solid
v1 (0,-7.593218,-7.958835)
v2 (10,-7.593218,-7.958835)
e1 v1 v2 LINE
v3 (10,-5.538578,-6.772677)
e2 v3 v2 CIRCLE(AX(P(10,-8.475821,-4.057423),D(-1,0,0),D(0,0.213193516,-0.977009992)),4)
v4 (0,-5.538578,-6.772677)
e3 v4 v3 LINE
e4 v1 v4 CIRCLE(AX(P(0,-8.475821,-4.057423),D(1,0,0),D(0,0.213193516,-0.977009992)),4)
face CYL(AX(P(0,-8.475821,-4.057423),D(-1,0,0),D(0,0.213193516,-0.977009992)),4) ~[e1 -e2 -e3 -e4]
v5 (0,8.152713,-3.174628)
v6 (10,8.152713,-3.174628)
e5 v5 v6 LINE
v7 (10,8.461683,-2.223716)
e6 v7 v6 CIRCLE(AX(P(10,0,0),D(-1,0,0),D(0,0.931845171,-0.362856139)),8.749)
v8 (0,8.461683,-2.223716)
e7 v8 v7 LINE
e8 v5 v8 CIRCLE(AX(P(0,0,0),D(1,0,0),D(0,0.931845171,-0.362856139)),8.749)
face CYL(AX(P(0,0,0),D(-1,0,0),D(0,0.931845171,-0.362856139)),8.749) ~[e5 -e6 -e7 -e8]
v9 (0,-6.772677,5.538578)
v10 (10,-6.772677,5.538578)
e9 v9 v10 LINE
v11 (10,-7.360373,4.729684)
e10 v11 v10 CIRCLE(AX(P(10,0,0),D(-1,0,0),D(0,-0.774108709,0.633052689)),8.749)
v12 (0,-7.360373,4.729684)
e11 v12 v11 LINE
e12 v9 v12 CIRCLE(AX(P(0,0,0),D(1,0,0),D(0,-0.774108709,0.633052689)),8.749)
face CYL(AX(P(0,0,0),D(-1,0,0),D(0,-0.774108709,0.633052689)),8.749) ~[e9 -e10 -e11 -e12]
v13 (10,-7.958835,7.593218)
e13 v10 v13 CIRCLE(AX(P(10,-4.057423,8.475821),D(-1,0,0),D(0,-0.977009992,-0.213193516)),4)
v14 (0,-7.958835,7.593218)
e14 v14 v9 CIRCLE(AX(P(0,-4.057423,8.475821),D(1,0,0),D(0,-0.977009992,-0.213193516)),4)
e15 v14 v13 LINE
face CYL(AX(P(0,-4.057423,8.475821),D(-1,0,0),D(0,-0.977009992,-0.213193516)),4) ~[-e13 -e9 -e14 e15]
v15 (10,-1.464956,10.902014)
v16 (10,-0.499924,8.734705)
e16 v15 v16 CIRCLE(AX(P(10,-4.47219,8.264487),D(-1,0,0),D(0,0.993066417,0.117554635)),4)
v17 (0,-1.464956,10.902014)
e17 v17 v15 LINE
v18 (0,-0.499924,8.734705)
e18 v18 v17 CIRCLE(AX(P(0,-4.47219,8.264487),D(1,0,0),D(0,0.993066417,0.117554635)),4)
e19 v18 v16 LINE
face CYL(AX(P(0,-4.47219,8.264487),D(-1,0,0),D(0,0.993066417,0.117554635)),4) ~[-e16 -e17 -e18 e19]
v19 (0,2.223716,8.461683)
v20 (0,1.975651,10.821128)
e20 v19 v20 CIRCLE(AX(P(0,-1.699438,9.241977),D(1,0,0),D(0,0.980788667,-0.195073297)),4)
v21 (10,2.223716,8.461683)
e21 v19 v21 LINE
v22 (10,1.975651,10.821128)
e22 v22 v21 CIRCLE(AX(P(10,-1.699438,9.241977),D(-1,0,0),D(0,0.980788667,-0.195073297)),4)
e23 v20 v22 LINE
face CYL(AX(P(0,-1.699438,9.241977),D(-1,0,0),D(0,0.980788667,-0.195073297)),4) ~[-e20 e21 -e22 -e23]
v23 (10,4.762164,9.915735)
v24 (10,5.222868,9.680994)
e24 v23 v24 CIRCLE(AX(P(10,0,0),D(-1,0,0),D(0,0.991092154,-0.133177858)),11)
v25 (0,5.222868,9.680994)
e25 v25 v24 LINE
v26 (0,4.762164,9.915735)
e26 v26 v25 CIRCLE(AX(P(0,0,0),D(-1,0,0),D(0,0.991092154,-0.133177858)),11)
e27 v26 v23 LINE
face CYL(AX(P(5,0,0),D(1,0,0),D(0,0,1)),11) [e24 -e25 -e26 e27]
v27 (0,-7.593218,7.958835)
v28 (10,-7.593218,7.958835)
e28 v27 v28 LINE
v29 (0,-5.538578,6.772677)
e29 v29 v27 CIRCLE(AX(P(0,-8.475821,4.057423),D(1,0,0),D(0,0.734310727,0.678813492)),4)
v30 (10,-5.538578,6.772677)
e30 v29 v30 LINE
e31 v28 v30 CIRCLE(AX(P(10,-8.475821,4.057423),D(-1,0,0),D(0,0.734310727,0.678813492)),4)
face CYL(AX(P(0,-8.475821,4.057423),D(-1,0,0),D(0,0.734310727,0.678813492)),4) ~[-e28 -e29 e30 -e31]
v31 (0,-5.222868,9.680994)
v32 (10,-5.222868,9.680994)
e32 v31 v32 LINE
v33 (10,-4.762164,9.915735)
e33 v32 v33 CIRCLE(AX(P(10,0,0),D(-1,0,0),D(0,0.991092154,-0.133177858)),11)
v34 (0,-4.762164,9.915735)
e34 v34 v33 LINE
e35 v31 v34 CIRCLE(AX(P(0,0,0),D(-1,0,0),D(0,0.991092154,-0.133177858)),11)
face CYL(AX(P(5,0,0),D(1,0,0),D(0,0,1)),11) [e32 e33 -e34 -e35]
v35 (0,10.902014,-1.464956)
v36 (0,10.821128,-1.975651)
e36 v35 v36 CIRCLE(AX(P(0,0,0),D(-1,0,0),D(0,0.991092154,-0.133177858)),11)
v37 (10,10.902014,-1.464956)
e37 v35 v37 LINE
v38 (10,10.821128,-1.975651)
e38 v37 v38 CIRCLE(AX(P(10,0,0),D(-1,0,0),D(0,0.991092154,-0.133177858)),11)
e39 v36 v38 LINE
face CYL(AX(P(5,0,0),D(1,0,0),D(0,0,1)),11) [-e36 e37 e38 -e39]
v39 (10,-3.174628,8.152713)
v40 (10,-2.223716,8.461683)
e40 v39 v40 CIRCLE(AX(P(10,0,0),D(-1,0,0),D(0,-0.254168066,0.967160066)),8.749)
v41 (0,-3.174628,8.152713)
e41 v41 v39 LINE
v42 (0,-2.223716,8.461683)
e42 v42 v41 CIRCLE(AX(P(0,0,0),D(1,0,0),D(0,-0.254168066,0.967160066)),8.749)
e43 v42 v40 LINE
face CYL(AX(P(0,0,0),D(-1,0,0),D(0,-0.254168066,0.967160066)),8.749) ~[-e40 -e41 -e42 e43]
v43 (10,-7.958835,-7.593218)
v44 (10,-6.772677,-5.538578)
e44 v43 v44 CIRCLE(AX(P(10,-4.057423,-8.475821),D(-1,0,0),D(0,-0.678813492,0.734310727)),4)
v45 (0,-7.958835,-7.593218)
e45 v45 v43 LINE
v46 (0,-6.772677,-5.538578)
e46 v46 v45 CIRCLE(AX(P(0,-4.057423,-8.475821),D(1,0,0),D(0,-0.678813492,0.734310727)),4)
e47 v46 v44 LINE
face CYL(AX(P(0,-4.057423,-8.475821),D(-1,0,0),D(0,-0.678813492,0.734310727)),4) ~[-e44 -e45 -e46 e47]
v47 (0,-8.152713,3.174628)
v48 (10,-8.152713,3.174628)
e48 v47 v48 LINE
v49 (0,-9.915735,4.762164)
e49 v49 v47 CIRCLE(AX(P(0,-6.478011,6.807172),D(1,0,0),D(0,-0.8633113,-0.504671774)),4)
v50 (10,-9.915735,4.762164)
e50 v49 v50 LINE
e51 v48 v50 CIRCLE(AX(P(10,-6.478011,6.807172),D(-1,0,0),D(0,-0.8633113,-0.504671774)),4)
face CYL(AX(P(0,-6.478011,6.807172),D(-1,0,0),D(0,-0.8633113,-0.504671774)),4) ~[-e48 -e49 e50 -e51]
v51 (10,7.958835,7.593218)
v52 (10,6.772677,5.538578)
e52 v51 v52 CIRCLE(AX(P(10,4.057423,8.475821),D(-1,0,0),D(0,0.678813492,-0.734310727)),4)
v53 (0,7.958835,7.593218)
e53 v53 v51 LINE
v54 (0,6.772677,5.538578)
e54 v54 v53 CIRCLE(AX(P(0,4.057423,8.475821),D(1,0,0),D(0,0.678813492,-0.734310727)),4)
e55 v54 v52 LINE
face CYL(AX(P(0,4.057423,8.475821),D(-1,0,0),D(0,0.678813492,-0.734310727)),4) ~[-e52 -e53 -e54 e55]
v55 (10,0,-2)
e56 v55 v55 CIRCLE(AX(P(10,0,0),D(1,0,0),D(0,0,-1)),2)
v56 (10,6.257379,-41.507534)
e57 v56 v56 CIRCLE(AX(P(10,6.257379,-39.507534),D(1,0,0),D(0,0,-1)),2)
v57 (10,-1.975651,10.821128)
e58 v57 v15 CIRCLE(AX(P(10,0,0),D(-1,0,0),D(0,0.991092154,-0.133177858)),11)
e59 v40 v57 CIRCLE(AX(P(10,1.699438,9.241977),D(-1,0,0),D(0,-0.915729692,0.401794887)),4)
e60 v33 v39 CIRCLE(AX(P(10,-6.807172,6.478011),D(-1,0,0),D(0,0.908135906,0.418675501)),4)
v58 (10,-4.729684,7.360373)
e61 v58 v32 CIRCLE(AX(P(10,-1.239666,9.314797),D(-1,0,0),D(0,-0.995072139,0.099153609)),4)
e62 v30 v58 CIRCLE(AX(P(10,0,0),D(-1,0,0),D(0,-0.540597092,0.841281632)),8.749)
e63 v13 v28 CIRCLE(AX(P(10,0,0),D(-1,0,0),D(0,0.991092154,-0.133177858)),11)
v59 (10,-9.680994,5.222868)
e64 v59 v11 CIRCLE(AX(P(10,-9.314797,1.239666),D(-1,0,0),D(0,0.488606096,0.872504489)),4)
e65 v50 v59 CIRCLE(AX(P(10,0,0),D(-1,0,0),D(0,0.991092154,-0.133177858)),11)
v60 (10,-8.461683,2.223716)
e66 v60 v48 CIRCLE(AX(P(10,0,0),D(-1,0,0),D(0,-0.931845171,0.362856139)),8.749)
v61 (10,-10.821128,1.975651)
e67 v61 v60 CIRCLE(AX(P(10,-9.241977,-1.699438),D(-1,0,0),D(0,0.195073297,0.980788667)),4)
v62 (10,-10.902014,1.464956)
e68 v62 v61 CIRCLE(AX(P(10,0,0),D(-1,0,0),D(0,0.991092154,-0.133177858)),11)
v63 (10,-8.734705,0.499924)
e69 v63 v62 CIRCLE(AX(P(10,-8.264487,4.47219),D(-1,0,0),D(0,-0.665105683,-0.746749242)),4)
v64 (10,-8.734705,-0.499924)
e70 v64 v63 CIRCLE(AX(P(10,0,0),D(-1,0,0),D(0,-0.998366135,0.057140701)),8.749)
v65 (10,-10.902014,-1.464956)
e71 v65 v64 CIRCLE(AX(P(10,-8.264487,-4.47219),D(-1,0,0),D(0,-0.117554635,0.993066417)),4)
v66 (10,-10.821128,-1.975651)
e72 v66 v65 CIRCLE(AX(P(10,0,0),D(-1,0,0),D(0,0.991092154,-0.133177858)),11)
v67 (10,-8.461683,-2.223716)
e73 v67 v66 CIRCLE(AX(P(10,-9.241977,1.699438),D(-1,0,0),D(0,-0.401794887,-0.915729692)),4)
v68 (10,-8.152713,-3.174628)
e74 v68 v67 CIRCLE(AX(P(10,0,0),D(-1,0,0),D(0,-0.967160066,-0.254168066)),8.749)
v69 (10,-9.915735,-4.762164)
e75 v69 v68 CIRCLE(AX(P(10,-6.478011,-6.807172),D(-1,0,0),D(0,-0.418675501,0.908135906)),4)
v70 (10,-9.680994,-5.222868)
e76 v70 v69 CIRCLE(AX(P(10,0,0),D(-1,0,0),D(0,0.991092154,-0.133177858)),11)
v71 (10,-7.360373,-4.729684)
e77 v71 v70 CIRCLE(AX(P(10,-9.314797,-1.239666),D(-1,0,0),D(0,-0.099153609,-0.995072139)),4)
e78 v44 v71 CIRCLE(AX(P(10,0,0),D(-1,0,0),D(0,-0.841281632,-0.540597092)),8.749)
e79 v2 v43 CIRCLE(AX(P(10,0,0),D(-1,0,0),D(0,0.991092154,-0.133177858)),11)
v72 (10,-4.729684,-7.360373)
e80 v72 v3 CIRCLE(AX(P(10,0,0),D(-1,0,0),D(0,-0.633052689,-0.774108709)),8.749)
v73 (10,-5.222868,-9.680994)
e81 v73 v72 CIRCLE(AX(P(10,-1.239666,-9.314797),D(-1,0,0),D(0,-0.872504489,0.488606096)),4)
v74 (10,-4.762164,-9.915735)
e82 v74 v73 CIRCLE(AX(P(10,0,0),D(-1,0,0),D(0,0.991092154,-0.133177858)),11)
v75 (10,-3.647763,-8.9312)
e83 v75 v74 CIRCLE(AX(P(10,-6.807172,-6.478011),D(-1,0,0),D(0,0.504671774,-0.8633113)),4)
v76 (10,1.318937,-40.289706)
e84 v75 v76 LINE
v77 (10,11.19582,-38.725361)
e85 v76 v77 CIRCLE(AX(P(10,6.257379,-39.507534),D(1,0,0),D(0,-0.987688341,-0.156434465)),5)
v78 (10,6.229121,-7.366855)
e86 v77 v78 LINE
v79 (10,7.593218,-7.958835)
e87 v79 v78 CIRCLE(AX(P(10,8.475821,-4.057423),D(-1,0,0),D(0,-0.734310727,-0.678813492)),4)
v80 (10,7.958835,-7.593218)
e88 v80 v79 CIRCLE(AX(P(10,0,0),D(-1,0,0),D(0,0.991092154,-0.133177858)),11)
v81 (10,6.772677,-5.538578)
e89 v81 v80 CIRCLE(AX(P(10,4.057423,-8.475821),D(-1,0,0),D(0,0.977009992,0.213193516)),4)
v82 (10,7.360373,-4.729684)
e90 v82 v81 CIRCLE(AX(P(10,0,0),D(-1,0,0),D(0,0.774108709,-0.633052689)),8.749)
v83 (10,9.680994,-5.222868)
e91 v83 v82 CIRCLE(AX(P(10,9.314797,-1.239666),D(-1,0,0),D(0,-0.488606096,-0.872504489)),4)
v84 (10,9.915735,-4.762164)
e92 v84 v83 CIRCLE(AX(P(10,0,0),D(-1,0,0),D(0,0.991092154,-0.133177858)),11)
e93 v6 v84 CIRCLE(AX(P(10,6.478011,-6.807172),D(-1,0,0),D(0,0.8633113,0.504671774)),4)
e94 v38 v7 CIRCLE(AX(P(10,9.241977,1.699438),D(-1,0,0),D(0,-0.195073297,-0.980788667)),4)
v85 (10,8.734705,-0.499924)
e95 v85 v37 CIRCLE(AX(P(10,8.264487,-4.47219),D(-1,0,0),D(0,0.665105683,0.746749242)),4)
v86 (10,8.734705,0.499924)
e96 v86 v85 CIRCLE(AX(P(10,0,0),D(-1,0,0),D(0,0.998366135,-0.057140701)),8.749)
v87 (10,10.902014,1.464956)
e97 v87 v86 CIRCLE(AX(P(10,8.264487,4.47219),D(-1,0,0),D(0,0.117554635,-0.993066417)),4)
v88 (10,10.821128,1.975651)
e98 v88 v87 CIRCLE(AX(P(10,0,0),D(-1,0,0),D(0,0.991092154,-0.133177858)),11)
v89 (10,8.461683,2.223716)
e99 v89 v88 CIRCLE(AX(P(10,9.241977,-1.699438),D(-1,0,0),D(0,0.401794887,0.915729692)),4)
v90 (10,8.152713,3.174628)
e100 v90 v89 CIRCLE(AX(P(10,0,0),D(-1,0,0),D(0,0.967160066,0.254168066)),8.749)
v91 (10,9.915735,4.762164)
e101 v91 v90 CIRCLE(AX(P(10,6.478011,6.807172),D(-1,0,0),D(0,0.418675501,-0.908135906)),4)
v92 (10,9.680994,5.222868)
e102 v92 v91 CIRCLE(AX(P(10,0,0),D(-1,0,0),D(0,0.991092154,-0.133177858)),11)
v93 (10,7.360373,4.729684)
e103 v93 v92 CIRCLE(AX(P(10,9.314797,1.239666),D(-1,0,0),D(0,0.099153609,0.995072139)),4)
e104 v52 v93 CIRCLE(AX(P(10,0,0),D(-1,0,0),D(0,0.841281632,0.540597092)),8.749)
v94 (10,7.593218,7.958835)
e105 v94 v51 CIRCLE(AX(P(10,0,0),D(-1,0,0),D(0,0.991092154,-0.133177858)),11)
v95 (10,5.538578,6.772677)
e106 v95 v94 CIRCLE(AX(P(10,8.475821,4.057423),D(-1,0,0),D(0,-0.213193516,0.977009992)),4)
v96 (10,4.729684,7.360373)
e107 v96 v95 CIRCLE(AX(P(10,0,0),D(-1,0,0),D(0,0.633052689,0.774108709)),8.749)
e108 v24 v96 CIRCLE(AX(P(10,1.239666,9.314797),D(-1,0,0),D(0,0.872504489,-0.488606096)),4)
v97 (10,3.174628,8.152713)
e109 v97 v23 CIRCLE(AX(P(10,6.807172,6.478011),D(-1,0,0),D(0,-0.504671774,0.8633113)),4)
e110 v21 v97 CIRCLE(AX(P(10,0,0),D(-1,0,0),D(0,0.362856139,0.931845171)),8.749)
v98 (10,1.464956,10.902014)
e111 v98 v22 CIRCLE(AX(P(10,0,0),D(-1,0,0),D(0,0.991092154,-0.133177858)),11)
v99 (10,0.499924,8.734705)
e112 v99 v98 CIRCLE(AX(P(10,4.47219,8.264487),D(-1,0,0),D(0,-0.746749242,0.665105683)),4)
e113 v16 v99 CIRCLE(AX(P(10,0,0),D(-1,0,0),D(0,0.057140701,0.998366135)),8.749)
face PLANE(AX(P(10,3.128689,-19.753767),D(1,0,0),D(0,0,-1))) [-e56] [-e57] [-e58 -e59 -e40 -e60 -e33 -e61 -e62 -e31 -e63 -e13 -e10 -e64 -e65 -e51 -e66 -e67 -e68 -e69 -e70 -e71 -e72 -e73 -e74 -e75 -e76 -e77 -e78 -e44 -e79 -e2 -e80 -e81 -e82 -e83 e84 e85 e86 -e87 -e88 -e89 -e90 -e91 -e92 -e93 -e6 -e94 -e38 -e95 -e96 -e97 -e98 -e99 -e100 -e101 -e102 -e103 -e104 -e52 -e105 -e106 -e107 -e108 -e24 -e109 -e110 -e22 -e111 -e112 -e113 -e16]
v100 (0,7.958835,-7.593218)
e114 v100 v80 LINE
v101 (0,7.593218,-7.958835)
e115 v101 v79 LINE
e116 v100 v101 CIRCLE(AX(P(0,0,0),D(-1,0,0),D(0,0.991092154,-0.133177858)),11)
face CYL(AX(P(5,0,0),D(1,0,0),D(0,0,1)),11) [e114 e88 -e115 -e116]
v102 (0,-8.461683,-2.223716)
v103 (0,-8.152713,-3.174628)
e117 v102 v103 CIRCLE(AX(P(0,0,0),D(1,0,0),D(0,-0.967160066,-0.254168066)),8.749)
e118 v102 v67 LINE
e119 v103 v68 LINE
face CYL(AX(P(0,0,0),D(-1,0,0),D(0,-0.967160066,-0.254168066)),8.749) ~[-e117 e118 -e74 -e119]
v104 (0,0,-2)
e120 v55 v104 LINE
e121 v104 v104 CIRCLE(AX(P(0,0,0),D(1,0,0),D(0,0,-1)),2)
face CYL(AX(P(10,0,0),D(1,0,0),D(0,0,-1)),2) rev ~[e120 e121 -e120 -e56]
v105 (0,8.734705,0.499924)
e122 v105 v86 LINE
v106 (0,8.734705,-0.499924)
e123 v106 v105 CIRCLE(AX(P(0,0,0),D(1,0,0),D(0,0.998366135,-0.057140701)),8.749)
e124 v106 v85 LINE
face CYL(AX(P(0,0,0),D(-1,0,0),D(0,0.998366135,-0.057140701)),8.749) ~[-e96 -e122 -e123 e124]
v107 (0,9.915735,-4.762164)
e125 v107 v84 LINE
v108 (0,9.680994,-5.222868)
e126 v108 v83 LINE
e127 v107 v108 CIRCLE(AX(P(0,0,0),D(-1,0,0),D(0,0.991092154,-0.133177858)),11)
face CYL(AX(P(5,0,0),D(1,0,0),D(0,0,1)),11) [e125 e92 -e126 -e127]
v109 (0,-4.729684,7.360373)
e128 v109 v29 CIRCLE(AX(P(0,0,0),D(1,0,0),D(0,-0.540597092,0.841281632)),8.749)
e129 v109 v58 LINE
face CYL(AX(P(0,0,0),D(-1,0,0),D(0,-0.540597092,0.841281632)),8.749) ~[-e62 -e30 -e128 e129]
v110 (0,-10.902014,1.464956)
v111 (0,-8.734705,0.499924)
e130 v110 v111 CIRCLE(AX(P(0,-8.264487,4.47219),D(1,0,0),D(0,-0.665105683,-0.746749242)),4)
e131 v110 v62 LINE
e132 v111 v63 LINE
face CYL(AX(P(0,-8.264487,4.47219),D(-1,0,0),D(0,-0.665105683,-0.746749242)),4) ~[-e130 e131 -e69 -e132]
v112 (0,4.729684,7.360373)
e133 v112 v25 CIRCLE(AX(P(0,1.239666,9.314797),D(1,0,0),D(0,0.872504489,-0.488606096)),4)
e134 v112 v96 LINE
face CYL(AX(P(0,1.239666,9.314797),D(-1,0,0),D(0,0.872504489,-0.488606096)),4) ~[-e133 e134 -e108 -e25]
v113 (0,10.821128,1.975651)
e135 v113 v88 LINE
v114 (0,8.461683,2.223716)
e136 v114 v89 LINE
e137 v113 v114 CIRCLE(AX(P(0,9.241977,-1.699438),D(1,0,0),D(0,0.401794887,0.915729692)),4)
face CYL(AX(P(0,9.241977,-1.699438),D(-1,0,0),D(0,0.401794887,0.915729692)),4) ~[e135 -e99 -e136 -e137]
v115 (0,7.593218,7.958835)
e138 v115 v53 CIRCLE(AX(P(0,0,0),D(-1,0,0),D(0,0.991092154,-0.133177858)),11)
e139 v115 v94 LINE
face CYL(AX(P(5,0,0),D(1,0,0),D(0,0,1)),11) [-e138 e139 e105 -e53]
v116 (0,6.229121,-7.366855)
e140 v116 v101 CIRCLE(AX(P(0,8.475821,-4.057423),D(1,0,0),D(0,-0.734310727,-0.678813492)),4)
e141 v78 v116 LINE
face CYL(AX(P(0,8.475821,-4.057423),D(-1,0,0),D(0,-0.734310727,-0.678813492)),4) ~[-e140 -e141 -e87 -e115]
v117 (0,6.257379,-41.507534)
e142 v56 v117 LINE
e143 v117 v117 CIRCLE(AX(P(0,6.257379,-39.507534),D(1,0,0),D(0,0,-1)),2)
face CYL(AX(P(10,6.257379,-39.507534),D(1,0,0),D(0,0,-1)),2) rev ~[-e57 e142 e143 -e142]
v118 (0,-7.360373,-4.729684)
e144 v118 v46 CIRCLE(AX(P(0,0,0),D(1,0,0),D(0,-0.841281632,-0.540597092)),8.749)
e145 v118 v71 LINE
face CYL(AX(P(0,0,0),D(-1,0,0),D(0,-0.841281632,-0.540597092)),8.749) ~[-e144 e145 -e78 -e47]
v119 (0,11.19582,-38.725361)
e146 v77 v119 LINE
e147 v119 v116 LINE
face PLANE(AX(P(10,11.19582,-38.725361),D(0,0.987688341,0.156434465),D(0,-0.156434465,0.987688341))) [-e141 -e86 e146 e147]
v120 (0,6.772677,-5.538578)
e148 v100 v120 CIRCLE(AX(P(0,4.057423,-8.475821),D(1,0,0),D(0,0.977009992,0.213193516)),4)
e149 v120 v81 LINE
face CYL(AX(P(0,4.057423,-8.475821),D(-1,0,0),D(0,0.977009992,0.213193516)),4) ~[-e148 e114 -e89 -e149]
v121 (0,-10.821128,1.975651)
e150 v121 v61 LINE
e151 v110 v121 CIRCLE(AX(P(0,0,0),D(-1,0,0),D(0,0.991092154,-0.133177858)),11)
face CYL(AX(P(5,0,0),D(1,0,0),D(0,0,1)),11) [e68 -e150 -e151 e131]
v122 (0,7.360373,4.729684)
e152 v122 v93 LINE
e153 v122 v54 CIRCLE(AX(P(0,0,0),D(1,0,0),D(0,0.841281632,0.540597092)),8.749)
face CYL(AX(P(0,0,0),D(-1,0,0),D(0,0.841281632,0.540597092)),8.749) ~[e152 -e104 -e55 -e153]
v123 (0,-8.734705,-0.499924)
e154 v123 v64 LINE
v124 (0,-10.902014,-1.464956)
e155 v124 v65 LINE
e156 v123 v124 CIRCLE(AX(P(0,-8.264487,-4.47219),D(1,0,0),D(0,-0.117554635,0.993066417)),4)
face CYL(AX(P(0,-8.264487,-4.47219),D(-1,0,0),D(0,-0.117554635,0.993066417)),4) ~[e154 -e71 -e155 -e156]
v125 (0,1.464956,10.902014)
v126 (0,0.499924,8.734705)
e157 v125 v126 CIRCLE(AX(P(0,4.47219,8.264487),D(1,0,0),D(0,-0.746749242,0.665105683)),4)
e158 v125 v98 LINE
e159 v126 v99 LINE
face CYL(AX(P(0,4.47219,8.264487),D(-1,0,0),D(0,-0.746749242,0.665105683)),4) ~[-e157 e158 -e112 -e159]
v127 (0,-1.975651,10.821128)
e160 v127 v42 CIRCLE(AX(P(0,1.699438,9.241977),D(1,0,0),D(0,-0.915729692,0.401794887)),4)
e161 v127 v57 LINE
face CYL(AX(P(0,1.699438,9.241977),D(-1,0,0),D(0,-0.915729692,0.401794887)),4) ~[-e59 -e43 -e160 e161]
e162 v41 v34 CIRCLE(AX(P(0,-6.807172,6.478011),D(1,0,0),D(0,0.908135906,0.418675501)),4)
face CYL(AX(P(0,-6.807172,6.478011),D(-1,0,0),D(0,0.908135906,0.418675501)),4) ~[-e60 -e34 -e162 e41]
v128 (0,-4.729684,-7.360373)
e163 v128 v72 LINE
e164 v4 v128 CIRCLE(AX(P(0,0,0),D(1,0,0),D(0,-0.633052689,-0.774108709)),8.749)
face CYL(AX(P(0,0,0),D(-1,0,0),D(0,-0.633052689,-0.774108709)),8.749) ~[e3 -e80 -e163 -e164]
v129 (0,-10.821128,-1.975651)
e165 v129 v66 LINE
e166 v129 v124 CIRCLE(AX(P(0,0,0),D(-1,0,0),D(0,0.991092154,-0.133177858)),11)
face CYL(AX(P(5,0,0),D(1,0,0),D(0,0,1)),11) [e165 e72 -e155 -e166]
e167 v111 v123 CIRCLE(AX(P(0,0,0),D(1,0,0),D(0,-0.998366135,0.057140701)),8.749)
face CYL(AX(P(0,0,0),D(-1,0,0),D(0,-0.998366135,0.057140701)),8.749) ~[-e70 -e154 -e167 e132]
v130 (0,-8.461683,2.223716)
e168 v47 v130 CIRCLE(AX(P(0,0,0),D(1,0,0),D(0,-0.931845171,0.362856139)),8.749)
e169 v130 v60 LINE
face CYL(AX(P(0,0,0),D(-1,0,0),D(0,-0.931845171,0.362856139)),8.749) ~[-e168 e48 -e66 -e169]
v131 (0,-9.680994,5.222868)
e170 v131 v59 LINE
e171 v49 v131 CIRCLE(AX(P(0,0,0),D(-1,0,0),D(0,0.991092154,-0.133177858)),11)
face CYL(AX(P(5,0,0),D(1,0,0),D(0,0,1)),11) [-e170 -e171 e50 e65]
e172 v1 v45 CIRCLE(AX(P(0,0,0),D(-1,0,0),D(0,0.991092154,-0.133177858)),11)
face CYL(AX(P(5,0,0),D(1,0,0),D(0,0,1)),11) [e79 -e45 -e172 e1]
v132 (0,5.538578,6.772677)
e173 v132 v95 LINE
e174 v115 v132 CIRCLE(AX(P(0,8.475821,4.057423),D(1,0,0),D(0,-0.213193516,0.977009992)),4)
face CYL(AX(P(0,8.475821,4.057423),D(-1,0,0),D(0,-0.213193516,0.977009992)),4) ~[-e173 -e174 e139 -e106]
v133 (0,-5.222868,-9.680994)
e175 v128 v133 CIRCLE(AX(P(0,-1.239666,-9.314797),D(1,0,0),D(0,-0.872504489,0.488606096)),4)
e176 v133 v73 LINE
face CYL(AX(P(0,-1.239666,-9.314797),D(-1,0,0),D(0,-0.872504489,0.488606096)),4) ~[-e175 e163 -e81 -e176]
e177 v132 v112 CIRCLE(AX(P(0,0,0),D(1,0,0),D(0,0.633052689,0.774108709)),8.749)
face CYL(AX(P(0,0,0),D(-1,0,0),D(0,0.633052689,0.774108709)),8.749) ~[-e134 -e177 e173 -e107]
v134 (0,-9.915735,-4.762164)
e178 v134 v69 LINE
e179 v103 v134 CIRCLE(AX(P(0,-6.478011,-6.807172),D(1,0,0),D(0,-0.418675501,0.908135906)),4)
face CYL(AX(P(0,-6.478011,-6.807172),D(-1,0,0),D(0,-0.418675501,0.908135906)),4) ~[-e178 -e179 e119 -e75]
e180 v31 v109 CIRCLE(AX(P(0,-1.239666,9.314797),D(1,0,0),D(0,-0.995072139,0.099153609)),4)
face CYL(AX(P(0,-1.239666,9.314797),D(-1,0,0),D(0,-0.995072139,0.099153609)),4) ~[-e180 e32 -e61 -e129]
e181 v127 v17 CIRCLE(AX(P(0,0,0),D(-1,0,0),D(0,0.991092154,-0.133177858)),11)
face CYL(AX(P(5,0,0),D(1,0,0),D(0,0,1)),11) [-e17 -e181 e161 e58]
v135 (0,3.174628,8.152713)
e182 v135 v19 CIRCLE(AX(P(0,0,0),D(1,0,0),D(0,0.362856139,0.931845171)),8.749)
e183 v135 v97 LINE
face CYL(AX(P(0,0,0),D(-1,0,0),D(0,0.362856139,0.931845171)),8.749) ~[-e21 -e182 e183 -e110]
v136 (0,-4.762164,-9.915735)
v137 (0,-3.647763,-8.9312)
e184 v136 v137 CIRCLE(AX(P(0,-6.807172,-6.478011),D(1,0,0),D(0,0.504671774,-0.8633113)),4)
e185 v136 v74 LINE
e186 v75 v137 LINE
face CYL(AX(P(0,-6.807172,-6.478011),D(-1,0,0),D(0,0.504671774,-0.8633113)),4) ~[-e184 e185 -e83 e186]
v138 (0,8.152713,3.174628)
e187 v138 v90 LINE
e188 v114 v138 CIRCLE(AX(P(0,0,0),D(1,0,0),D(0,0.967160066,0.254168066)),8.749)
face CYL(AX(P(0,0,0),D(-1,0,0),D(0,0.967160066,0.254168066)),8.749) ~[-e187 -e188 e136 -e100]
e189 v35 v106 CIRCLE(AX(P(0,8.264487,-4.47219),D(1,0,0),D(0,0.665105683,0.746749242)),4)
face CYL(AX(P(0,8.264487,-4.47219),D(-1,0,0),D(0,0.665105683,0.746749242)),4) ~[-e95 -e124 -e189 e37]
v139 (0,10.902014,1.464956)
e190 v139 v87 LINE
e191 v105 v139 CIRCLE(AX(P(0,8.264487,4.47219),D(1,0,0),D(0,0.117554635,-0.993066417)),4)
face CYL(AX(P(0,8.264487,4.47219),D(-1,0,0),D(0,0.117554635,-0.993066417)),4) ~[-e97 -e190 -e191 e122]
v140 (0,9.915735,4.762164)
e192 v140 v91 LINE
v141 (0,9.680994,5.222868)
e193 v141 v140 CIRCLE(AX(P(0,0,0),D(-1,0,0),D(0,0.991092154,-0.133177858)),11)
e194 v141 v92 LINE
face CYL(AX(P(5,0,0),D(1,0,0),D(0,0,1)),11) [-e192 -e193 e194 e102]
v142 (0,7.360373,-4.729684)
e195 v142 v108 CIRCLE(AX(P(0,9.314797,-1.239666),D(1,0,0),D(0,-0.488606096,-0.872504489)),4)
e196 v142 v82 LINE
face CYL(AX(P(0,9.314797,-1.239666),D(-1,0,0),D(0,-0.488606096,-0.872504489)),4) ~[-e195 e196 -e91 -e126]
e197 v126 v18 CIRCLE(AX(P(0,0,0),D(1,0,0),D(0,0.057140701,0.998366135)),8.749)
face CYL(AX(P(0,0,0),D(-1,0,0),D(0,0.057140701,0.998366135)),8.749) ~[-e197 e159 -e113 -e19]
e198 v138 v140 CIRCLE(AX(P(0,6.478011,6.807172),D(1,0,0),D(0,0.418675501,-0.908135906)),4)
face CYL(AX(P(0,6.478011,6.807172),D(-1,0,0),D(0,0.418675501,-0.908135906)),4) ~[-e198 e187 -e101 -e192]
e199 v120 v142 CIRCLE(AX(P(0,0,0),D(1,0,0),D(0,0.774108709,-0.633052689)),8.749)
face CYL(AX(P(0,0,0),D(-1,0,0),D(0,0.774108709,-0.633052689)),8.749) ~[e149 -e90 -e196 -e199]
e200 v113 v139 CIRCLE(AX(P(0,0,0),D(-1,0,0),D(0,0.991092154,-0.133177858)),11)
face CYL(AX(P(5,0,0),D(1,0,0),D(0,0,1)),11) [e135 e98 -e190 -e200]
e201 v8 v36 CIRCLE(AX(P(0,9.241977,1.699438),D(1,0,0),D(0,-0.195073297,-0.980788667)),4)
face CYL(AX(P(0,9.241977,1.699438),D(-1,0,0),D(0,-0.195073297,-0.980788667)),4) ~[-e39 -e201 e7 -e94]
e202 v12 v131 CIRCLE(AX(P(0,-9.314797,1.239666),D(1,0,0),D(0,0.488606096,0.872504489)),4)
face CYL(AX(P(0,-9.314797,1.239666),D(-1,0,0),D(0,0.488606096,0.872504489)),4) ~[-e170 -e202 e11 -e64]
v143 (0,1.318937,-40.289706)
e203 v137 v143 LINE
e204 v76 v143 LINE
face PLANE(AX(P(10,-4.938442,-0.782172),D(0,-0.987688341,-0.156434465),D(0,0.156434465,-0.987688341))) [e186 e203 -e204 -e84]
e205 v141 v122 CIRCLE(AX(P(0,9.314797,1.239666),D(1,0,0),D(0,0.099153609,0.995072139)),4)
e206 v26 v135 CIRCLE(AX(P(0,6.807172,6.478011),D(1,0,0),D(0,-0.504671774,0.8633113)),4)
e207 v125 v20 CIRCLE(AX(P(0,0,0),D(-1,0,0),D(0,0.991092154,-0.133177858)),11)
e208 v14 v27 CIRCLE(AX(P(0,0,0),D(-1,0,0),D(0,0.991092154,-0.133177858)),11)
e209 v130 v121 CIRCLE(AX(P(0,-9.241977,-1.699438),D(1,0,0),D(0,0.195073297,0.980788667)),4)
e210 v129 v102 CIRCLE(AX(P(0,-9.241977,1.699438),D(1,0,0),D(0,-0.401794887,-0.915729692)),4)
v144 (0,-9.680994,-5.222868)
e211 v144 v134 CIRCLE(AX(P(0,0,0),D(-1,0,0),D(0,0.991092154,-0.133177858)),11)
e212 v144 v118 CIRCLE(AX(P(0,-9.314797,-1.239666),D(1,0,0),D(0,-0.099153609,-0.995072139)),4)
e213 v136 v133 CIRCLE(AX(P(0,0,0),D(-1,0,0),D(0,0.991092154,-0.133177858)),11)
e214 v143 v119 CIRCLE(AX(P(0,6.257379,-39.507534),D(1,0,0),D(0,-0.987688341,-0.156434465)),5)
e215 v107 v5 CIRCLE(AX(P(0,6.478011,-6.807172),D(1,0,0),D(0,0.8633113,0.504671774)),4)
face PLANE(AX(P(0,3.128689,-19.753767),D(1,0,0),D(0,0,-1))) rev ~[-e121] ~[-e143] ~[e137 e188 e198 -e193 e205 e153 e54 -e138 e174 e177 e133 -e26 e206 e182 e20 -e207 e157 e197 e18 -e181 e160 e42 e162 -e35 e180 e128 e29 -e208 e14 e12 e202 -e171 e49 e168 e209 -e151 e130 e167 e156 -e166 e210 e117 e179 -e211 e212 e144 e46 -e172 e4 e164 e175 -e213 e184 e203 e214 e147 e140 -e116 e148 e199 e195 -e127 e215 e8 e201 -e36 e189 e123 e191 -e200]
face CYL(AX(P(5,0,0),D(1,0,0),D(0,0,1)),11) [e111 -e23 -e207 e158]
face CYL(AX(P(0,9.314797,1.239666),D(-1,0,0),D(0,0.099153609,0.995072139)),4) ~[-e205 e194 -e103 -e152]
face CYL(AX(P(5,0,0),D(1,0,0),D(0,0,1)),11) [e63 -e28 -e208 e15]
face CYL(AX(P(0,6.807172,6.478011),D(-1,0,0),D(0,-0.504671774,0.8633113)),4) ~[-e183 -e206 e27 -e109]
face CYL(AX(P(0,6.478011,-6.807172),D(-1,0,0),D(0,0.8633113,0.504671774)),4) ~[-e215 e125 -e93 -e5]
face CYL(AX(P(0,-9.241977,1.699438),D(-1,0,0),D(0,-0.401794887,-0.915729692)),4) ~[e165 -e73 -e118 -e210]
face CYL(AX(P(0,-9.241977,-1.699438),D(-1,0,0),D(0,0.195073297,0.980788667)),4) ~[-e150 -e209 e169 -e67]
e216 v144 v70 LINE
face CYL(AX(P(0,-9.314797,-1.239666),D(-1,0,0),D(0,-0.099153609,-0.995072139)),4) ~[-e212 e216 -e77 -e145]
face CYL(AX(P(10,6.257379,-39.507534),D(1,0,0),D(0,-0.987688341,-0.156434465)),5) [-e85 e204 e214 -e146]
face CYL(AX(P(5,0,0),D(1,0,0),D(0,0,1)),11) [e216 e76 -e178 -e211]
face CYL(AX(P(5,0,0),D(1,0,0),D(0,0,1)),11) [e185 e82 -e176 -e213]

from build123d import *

# Parameters (mm, degrees)
BASPROSKE_W             = 10
BASPROSKE_H             = 11
TOOTHCUT_DEPTH          = 19.493242009
TEETHCUTS_COUNT         = 20
TEETHCUTS_ANGLE         = 342
BORSKE_R                = 0.4
BORE_DEPTH              = 50.0000508
CROQUIS1_R              = 2
SALIENTE_EXTRUIR1_DEPTH = 10
CROQUIS2_R              = 2
CORTAR_EXTRUIR1_DEPTH   = 10


with BuildPart() as part:
    # BasProSke → Base-Revolve (revolve)
    with BuildSketch(Plane(origin=(0, 0, 0), x_dir=(1, 0, 0), z_dir=(0, 1, 0)), mode=Mode.PRIVATE) as base_revolve_sk:
        with Locations((5, 5.5)):
            Rectangle(BASPROSKE_W, BASPROSKE_H)
    revolve(base_revolve_sk.sketch.rotate(Axis((-10, 0, 0), (1, 0, 0)), 180), axis=Axis((-10, 0, 0), (1, 0, 0)))

    # TooCutSke → ToothCut (cut, through all)
    with BuildSketch(Plane(origin=(0, 0, 0), x_dir=(0, 0, -1), z_dir=(1, 0, 0))):
        with BuildLine():
            ThreePointArc((0.499924007, 8.734705318), (0, 8.749), (-0.499924007, 8.734705318))
            ThreePointArc((-0.499924007, 8.734705318), (-0.824302243, 9.905497836), (-1.485192705, 10.924909509))
            ThreePointArc((-1.485192705, 10.924909509), (0, 11.0254), (1.485192705, 10.924909509))
            ThreePointArc((1.485192705, 10.924909509), (0.824302243, 9.905497836), (0.499924007, 8.734705318))
        make_face()
    toothcut = extrude(amount=TOOTHCUT_DEPTH, mode=Mode.SUBTRACT)

    # TeethCuts: ToothCut ×20 about axis
    teethcuts_axis = Axis((-10, 0, 0), (1, 0, 0))
    for i in range(1, TEETHCUTS_COUNT):
        add(toothcut.rotate(teethcuts_axis, i * TEETHCUTS_ANGLE / (TEETHCUTS_COUNT - 1)), mode=Mode.SUBTRACT)

    # BorSke → Bore (cut, symmetric)
    with BuildSketch(Plane(origin=(0, 0, 0), x_dir=(0, 0, -1), z_dir=(1, 0, 0))):
        with Locations(Location((0, 0, 0), (0, 0, 180))):
            Circle(BORSKE_R)
    extrude(amount=BORE_DEPTH, both=True, mode=Mode.SUBTRACT)

    # Croquis1 → Saliente-Extruir1 (add)
    with BuildSketch(Plane(origin=(10, 0, 0), x_dir=(0, 0, -1), z_dir=(1, 0, 0))):
        with BuildLine():
            Line((38.725361299, 11.195820305), (-0.782172325, 4.938441703))
            ThreePointArc((-0.782172325, 4.938441703), (-4.938441703, -0.782172325), (0.782172325, -4.938441703))
            Line((0.782172325, -4.938441703), (40.289705949, 1.318936899))
            ThreePointArc((40.289705949, 1.318936899), (44.445975327, 7.039550927), (38.725361299, 11.195820305))
        make_face()
        Circle(CROQUIS1_R, mode=Mode.SUBTRACT)
        with Locations((39.507533624, 6.257378602)):
            Circle(CROQUIS1_R, mode=Mode.SUBTRACT)
    extrude(amount=-SALIENTE_EXTRUIR1_DEPTH)

    # Croquis2 → Cortar-Extruir1 (cut)
    with BuildSketch(Plane(origin=(10, 0, 0), x_dir=(0, 0, -1), z_dir=(1, 0, 0))):
        Circle(CROQUIS2_R)
    extrude(amount=-CORTAR_EXTRUIR1_DEPTH, mode=Mode.SUBTRACT)


solid = part.part
